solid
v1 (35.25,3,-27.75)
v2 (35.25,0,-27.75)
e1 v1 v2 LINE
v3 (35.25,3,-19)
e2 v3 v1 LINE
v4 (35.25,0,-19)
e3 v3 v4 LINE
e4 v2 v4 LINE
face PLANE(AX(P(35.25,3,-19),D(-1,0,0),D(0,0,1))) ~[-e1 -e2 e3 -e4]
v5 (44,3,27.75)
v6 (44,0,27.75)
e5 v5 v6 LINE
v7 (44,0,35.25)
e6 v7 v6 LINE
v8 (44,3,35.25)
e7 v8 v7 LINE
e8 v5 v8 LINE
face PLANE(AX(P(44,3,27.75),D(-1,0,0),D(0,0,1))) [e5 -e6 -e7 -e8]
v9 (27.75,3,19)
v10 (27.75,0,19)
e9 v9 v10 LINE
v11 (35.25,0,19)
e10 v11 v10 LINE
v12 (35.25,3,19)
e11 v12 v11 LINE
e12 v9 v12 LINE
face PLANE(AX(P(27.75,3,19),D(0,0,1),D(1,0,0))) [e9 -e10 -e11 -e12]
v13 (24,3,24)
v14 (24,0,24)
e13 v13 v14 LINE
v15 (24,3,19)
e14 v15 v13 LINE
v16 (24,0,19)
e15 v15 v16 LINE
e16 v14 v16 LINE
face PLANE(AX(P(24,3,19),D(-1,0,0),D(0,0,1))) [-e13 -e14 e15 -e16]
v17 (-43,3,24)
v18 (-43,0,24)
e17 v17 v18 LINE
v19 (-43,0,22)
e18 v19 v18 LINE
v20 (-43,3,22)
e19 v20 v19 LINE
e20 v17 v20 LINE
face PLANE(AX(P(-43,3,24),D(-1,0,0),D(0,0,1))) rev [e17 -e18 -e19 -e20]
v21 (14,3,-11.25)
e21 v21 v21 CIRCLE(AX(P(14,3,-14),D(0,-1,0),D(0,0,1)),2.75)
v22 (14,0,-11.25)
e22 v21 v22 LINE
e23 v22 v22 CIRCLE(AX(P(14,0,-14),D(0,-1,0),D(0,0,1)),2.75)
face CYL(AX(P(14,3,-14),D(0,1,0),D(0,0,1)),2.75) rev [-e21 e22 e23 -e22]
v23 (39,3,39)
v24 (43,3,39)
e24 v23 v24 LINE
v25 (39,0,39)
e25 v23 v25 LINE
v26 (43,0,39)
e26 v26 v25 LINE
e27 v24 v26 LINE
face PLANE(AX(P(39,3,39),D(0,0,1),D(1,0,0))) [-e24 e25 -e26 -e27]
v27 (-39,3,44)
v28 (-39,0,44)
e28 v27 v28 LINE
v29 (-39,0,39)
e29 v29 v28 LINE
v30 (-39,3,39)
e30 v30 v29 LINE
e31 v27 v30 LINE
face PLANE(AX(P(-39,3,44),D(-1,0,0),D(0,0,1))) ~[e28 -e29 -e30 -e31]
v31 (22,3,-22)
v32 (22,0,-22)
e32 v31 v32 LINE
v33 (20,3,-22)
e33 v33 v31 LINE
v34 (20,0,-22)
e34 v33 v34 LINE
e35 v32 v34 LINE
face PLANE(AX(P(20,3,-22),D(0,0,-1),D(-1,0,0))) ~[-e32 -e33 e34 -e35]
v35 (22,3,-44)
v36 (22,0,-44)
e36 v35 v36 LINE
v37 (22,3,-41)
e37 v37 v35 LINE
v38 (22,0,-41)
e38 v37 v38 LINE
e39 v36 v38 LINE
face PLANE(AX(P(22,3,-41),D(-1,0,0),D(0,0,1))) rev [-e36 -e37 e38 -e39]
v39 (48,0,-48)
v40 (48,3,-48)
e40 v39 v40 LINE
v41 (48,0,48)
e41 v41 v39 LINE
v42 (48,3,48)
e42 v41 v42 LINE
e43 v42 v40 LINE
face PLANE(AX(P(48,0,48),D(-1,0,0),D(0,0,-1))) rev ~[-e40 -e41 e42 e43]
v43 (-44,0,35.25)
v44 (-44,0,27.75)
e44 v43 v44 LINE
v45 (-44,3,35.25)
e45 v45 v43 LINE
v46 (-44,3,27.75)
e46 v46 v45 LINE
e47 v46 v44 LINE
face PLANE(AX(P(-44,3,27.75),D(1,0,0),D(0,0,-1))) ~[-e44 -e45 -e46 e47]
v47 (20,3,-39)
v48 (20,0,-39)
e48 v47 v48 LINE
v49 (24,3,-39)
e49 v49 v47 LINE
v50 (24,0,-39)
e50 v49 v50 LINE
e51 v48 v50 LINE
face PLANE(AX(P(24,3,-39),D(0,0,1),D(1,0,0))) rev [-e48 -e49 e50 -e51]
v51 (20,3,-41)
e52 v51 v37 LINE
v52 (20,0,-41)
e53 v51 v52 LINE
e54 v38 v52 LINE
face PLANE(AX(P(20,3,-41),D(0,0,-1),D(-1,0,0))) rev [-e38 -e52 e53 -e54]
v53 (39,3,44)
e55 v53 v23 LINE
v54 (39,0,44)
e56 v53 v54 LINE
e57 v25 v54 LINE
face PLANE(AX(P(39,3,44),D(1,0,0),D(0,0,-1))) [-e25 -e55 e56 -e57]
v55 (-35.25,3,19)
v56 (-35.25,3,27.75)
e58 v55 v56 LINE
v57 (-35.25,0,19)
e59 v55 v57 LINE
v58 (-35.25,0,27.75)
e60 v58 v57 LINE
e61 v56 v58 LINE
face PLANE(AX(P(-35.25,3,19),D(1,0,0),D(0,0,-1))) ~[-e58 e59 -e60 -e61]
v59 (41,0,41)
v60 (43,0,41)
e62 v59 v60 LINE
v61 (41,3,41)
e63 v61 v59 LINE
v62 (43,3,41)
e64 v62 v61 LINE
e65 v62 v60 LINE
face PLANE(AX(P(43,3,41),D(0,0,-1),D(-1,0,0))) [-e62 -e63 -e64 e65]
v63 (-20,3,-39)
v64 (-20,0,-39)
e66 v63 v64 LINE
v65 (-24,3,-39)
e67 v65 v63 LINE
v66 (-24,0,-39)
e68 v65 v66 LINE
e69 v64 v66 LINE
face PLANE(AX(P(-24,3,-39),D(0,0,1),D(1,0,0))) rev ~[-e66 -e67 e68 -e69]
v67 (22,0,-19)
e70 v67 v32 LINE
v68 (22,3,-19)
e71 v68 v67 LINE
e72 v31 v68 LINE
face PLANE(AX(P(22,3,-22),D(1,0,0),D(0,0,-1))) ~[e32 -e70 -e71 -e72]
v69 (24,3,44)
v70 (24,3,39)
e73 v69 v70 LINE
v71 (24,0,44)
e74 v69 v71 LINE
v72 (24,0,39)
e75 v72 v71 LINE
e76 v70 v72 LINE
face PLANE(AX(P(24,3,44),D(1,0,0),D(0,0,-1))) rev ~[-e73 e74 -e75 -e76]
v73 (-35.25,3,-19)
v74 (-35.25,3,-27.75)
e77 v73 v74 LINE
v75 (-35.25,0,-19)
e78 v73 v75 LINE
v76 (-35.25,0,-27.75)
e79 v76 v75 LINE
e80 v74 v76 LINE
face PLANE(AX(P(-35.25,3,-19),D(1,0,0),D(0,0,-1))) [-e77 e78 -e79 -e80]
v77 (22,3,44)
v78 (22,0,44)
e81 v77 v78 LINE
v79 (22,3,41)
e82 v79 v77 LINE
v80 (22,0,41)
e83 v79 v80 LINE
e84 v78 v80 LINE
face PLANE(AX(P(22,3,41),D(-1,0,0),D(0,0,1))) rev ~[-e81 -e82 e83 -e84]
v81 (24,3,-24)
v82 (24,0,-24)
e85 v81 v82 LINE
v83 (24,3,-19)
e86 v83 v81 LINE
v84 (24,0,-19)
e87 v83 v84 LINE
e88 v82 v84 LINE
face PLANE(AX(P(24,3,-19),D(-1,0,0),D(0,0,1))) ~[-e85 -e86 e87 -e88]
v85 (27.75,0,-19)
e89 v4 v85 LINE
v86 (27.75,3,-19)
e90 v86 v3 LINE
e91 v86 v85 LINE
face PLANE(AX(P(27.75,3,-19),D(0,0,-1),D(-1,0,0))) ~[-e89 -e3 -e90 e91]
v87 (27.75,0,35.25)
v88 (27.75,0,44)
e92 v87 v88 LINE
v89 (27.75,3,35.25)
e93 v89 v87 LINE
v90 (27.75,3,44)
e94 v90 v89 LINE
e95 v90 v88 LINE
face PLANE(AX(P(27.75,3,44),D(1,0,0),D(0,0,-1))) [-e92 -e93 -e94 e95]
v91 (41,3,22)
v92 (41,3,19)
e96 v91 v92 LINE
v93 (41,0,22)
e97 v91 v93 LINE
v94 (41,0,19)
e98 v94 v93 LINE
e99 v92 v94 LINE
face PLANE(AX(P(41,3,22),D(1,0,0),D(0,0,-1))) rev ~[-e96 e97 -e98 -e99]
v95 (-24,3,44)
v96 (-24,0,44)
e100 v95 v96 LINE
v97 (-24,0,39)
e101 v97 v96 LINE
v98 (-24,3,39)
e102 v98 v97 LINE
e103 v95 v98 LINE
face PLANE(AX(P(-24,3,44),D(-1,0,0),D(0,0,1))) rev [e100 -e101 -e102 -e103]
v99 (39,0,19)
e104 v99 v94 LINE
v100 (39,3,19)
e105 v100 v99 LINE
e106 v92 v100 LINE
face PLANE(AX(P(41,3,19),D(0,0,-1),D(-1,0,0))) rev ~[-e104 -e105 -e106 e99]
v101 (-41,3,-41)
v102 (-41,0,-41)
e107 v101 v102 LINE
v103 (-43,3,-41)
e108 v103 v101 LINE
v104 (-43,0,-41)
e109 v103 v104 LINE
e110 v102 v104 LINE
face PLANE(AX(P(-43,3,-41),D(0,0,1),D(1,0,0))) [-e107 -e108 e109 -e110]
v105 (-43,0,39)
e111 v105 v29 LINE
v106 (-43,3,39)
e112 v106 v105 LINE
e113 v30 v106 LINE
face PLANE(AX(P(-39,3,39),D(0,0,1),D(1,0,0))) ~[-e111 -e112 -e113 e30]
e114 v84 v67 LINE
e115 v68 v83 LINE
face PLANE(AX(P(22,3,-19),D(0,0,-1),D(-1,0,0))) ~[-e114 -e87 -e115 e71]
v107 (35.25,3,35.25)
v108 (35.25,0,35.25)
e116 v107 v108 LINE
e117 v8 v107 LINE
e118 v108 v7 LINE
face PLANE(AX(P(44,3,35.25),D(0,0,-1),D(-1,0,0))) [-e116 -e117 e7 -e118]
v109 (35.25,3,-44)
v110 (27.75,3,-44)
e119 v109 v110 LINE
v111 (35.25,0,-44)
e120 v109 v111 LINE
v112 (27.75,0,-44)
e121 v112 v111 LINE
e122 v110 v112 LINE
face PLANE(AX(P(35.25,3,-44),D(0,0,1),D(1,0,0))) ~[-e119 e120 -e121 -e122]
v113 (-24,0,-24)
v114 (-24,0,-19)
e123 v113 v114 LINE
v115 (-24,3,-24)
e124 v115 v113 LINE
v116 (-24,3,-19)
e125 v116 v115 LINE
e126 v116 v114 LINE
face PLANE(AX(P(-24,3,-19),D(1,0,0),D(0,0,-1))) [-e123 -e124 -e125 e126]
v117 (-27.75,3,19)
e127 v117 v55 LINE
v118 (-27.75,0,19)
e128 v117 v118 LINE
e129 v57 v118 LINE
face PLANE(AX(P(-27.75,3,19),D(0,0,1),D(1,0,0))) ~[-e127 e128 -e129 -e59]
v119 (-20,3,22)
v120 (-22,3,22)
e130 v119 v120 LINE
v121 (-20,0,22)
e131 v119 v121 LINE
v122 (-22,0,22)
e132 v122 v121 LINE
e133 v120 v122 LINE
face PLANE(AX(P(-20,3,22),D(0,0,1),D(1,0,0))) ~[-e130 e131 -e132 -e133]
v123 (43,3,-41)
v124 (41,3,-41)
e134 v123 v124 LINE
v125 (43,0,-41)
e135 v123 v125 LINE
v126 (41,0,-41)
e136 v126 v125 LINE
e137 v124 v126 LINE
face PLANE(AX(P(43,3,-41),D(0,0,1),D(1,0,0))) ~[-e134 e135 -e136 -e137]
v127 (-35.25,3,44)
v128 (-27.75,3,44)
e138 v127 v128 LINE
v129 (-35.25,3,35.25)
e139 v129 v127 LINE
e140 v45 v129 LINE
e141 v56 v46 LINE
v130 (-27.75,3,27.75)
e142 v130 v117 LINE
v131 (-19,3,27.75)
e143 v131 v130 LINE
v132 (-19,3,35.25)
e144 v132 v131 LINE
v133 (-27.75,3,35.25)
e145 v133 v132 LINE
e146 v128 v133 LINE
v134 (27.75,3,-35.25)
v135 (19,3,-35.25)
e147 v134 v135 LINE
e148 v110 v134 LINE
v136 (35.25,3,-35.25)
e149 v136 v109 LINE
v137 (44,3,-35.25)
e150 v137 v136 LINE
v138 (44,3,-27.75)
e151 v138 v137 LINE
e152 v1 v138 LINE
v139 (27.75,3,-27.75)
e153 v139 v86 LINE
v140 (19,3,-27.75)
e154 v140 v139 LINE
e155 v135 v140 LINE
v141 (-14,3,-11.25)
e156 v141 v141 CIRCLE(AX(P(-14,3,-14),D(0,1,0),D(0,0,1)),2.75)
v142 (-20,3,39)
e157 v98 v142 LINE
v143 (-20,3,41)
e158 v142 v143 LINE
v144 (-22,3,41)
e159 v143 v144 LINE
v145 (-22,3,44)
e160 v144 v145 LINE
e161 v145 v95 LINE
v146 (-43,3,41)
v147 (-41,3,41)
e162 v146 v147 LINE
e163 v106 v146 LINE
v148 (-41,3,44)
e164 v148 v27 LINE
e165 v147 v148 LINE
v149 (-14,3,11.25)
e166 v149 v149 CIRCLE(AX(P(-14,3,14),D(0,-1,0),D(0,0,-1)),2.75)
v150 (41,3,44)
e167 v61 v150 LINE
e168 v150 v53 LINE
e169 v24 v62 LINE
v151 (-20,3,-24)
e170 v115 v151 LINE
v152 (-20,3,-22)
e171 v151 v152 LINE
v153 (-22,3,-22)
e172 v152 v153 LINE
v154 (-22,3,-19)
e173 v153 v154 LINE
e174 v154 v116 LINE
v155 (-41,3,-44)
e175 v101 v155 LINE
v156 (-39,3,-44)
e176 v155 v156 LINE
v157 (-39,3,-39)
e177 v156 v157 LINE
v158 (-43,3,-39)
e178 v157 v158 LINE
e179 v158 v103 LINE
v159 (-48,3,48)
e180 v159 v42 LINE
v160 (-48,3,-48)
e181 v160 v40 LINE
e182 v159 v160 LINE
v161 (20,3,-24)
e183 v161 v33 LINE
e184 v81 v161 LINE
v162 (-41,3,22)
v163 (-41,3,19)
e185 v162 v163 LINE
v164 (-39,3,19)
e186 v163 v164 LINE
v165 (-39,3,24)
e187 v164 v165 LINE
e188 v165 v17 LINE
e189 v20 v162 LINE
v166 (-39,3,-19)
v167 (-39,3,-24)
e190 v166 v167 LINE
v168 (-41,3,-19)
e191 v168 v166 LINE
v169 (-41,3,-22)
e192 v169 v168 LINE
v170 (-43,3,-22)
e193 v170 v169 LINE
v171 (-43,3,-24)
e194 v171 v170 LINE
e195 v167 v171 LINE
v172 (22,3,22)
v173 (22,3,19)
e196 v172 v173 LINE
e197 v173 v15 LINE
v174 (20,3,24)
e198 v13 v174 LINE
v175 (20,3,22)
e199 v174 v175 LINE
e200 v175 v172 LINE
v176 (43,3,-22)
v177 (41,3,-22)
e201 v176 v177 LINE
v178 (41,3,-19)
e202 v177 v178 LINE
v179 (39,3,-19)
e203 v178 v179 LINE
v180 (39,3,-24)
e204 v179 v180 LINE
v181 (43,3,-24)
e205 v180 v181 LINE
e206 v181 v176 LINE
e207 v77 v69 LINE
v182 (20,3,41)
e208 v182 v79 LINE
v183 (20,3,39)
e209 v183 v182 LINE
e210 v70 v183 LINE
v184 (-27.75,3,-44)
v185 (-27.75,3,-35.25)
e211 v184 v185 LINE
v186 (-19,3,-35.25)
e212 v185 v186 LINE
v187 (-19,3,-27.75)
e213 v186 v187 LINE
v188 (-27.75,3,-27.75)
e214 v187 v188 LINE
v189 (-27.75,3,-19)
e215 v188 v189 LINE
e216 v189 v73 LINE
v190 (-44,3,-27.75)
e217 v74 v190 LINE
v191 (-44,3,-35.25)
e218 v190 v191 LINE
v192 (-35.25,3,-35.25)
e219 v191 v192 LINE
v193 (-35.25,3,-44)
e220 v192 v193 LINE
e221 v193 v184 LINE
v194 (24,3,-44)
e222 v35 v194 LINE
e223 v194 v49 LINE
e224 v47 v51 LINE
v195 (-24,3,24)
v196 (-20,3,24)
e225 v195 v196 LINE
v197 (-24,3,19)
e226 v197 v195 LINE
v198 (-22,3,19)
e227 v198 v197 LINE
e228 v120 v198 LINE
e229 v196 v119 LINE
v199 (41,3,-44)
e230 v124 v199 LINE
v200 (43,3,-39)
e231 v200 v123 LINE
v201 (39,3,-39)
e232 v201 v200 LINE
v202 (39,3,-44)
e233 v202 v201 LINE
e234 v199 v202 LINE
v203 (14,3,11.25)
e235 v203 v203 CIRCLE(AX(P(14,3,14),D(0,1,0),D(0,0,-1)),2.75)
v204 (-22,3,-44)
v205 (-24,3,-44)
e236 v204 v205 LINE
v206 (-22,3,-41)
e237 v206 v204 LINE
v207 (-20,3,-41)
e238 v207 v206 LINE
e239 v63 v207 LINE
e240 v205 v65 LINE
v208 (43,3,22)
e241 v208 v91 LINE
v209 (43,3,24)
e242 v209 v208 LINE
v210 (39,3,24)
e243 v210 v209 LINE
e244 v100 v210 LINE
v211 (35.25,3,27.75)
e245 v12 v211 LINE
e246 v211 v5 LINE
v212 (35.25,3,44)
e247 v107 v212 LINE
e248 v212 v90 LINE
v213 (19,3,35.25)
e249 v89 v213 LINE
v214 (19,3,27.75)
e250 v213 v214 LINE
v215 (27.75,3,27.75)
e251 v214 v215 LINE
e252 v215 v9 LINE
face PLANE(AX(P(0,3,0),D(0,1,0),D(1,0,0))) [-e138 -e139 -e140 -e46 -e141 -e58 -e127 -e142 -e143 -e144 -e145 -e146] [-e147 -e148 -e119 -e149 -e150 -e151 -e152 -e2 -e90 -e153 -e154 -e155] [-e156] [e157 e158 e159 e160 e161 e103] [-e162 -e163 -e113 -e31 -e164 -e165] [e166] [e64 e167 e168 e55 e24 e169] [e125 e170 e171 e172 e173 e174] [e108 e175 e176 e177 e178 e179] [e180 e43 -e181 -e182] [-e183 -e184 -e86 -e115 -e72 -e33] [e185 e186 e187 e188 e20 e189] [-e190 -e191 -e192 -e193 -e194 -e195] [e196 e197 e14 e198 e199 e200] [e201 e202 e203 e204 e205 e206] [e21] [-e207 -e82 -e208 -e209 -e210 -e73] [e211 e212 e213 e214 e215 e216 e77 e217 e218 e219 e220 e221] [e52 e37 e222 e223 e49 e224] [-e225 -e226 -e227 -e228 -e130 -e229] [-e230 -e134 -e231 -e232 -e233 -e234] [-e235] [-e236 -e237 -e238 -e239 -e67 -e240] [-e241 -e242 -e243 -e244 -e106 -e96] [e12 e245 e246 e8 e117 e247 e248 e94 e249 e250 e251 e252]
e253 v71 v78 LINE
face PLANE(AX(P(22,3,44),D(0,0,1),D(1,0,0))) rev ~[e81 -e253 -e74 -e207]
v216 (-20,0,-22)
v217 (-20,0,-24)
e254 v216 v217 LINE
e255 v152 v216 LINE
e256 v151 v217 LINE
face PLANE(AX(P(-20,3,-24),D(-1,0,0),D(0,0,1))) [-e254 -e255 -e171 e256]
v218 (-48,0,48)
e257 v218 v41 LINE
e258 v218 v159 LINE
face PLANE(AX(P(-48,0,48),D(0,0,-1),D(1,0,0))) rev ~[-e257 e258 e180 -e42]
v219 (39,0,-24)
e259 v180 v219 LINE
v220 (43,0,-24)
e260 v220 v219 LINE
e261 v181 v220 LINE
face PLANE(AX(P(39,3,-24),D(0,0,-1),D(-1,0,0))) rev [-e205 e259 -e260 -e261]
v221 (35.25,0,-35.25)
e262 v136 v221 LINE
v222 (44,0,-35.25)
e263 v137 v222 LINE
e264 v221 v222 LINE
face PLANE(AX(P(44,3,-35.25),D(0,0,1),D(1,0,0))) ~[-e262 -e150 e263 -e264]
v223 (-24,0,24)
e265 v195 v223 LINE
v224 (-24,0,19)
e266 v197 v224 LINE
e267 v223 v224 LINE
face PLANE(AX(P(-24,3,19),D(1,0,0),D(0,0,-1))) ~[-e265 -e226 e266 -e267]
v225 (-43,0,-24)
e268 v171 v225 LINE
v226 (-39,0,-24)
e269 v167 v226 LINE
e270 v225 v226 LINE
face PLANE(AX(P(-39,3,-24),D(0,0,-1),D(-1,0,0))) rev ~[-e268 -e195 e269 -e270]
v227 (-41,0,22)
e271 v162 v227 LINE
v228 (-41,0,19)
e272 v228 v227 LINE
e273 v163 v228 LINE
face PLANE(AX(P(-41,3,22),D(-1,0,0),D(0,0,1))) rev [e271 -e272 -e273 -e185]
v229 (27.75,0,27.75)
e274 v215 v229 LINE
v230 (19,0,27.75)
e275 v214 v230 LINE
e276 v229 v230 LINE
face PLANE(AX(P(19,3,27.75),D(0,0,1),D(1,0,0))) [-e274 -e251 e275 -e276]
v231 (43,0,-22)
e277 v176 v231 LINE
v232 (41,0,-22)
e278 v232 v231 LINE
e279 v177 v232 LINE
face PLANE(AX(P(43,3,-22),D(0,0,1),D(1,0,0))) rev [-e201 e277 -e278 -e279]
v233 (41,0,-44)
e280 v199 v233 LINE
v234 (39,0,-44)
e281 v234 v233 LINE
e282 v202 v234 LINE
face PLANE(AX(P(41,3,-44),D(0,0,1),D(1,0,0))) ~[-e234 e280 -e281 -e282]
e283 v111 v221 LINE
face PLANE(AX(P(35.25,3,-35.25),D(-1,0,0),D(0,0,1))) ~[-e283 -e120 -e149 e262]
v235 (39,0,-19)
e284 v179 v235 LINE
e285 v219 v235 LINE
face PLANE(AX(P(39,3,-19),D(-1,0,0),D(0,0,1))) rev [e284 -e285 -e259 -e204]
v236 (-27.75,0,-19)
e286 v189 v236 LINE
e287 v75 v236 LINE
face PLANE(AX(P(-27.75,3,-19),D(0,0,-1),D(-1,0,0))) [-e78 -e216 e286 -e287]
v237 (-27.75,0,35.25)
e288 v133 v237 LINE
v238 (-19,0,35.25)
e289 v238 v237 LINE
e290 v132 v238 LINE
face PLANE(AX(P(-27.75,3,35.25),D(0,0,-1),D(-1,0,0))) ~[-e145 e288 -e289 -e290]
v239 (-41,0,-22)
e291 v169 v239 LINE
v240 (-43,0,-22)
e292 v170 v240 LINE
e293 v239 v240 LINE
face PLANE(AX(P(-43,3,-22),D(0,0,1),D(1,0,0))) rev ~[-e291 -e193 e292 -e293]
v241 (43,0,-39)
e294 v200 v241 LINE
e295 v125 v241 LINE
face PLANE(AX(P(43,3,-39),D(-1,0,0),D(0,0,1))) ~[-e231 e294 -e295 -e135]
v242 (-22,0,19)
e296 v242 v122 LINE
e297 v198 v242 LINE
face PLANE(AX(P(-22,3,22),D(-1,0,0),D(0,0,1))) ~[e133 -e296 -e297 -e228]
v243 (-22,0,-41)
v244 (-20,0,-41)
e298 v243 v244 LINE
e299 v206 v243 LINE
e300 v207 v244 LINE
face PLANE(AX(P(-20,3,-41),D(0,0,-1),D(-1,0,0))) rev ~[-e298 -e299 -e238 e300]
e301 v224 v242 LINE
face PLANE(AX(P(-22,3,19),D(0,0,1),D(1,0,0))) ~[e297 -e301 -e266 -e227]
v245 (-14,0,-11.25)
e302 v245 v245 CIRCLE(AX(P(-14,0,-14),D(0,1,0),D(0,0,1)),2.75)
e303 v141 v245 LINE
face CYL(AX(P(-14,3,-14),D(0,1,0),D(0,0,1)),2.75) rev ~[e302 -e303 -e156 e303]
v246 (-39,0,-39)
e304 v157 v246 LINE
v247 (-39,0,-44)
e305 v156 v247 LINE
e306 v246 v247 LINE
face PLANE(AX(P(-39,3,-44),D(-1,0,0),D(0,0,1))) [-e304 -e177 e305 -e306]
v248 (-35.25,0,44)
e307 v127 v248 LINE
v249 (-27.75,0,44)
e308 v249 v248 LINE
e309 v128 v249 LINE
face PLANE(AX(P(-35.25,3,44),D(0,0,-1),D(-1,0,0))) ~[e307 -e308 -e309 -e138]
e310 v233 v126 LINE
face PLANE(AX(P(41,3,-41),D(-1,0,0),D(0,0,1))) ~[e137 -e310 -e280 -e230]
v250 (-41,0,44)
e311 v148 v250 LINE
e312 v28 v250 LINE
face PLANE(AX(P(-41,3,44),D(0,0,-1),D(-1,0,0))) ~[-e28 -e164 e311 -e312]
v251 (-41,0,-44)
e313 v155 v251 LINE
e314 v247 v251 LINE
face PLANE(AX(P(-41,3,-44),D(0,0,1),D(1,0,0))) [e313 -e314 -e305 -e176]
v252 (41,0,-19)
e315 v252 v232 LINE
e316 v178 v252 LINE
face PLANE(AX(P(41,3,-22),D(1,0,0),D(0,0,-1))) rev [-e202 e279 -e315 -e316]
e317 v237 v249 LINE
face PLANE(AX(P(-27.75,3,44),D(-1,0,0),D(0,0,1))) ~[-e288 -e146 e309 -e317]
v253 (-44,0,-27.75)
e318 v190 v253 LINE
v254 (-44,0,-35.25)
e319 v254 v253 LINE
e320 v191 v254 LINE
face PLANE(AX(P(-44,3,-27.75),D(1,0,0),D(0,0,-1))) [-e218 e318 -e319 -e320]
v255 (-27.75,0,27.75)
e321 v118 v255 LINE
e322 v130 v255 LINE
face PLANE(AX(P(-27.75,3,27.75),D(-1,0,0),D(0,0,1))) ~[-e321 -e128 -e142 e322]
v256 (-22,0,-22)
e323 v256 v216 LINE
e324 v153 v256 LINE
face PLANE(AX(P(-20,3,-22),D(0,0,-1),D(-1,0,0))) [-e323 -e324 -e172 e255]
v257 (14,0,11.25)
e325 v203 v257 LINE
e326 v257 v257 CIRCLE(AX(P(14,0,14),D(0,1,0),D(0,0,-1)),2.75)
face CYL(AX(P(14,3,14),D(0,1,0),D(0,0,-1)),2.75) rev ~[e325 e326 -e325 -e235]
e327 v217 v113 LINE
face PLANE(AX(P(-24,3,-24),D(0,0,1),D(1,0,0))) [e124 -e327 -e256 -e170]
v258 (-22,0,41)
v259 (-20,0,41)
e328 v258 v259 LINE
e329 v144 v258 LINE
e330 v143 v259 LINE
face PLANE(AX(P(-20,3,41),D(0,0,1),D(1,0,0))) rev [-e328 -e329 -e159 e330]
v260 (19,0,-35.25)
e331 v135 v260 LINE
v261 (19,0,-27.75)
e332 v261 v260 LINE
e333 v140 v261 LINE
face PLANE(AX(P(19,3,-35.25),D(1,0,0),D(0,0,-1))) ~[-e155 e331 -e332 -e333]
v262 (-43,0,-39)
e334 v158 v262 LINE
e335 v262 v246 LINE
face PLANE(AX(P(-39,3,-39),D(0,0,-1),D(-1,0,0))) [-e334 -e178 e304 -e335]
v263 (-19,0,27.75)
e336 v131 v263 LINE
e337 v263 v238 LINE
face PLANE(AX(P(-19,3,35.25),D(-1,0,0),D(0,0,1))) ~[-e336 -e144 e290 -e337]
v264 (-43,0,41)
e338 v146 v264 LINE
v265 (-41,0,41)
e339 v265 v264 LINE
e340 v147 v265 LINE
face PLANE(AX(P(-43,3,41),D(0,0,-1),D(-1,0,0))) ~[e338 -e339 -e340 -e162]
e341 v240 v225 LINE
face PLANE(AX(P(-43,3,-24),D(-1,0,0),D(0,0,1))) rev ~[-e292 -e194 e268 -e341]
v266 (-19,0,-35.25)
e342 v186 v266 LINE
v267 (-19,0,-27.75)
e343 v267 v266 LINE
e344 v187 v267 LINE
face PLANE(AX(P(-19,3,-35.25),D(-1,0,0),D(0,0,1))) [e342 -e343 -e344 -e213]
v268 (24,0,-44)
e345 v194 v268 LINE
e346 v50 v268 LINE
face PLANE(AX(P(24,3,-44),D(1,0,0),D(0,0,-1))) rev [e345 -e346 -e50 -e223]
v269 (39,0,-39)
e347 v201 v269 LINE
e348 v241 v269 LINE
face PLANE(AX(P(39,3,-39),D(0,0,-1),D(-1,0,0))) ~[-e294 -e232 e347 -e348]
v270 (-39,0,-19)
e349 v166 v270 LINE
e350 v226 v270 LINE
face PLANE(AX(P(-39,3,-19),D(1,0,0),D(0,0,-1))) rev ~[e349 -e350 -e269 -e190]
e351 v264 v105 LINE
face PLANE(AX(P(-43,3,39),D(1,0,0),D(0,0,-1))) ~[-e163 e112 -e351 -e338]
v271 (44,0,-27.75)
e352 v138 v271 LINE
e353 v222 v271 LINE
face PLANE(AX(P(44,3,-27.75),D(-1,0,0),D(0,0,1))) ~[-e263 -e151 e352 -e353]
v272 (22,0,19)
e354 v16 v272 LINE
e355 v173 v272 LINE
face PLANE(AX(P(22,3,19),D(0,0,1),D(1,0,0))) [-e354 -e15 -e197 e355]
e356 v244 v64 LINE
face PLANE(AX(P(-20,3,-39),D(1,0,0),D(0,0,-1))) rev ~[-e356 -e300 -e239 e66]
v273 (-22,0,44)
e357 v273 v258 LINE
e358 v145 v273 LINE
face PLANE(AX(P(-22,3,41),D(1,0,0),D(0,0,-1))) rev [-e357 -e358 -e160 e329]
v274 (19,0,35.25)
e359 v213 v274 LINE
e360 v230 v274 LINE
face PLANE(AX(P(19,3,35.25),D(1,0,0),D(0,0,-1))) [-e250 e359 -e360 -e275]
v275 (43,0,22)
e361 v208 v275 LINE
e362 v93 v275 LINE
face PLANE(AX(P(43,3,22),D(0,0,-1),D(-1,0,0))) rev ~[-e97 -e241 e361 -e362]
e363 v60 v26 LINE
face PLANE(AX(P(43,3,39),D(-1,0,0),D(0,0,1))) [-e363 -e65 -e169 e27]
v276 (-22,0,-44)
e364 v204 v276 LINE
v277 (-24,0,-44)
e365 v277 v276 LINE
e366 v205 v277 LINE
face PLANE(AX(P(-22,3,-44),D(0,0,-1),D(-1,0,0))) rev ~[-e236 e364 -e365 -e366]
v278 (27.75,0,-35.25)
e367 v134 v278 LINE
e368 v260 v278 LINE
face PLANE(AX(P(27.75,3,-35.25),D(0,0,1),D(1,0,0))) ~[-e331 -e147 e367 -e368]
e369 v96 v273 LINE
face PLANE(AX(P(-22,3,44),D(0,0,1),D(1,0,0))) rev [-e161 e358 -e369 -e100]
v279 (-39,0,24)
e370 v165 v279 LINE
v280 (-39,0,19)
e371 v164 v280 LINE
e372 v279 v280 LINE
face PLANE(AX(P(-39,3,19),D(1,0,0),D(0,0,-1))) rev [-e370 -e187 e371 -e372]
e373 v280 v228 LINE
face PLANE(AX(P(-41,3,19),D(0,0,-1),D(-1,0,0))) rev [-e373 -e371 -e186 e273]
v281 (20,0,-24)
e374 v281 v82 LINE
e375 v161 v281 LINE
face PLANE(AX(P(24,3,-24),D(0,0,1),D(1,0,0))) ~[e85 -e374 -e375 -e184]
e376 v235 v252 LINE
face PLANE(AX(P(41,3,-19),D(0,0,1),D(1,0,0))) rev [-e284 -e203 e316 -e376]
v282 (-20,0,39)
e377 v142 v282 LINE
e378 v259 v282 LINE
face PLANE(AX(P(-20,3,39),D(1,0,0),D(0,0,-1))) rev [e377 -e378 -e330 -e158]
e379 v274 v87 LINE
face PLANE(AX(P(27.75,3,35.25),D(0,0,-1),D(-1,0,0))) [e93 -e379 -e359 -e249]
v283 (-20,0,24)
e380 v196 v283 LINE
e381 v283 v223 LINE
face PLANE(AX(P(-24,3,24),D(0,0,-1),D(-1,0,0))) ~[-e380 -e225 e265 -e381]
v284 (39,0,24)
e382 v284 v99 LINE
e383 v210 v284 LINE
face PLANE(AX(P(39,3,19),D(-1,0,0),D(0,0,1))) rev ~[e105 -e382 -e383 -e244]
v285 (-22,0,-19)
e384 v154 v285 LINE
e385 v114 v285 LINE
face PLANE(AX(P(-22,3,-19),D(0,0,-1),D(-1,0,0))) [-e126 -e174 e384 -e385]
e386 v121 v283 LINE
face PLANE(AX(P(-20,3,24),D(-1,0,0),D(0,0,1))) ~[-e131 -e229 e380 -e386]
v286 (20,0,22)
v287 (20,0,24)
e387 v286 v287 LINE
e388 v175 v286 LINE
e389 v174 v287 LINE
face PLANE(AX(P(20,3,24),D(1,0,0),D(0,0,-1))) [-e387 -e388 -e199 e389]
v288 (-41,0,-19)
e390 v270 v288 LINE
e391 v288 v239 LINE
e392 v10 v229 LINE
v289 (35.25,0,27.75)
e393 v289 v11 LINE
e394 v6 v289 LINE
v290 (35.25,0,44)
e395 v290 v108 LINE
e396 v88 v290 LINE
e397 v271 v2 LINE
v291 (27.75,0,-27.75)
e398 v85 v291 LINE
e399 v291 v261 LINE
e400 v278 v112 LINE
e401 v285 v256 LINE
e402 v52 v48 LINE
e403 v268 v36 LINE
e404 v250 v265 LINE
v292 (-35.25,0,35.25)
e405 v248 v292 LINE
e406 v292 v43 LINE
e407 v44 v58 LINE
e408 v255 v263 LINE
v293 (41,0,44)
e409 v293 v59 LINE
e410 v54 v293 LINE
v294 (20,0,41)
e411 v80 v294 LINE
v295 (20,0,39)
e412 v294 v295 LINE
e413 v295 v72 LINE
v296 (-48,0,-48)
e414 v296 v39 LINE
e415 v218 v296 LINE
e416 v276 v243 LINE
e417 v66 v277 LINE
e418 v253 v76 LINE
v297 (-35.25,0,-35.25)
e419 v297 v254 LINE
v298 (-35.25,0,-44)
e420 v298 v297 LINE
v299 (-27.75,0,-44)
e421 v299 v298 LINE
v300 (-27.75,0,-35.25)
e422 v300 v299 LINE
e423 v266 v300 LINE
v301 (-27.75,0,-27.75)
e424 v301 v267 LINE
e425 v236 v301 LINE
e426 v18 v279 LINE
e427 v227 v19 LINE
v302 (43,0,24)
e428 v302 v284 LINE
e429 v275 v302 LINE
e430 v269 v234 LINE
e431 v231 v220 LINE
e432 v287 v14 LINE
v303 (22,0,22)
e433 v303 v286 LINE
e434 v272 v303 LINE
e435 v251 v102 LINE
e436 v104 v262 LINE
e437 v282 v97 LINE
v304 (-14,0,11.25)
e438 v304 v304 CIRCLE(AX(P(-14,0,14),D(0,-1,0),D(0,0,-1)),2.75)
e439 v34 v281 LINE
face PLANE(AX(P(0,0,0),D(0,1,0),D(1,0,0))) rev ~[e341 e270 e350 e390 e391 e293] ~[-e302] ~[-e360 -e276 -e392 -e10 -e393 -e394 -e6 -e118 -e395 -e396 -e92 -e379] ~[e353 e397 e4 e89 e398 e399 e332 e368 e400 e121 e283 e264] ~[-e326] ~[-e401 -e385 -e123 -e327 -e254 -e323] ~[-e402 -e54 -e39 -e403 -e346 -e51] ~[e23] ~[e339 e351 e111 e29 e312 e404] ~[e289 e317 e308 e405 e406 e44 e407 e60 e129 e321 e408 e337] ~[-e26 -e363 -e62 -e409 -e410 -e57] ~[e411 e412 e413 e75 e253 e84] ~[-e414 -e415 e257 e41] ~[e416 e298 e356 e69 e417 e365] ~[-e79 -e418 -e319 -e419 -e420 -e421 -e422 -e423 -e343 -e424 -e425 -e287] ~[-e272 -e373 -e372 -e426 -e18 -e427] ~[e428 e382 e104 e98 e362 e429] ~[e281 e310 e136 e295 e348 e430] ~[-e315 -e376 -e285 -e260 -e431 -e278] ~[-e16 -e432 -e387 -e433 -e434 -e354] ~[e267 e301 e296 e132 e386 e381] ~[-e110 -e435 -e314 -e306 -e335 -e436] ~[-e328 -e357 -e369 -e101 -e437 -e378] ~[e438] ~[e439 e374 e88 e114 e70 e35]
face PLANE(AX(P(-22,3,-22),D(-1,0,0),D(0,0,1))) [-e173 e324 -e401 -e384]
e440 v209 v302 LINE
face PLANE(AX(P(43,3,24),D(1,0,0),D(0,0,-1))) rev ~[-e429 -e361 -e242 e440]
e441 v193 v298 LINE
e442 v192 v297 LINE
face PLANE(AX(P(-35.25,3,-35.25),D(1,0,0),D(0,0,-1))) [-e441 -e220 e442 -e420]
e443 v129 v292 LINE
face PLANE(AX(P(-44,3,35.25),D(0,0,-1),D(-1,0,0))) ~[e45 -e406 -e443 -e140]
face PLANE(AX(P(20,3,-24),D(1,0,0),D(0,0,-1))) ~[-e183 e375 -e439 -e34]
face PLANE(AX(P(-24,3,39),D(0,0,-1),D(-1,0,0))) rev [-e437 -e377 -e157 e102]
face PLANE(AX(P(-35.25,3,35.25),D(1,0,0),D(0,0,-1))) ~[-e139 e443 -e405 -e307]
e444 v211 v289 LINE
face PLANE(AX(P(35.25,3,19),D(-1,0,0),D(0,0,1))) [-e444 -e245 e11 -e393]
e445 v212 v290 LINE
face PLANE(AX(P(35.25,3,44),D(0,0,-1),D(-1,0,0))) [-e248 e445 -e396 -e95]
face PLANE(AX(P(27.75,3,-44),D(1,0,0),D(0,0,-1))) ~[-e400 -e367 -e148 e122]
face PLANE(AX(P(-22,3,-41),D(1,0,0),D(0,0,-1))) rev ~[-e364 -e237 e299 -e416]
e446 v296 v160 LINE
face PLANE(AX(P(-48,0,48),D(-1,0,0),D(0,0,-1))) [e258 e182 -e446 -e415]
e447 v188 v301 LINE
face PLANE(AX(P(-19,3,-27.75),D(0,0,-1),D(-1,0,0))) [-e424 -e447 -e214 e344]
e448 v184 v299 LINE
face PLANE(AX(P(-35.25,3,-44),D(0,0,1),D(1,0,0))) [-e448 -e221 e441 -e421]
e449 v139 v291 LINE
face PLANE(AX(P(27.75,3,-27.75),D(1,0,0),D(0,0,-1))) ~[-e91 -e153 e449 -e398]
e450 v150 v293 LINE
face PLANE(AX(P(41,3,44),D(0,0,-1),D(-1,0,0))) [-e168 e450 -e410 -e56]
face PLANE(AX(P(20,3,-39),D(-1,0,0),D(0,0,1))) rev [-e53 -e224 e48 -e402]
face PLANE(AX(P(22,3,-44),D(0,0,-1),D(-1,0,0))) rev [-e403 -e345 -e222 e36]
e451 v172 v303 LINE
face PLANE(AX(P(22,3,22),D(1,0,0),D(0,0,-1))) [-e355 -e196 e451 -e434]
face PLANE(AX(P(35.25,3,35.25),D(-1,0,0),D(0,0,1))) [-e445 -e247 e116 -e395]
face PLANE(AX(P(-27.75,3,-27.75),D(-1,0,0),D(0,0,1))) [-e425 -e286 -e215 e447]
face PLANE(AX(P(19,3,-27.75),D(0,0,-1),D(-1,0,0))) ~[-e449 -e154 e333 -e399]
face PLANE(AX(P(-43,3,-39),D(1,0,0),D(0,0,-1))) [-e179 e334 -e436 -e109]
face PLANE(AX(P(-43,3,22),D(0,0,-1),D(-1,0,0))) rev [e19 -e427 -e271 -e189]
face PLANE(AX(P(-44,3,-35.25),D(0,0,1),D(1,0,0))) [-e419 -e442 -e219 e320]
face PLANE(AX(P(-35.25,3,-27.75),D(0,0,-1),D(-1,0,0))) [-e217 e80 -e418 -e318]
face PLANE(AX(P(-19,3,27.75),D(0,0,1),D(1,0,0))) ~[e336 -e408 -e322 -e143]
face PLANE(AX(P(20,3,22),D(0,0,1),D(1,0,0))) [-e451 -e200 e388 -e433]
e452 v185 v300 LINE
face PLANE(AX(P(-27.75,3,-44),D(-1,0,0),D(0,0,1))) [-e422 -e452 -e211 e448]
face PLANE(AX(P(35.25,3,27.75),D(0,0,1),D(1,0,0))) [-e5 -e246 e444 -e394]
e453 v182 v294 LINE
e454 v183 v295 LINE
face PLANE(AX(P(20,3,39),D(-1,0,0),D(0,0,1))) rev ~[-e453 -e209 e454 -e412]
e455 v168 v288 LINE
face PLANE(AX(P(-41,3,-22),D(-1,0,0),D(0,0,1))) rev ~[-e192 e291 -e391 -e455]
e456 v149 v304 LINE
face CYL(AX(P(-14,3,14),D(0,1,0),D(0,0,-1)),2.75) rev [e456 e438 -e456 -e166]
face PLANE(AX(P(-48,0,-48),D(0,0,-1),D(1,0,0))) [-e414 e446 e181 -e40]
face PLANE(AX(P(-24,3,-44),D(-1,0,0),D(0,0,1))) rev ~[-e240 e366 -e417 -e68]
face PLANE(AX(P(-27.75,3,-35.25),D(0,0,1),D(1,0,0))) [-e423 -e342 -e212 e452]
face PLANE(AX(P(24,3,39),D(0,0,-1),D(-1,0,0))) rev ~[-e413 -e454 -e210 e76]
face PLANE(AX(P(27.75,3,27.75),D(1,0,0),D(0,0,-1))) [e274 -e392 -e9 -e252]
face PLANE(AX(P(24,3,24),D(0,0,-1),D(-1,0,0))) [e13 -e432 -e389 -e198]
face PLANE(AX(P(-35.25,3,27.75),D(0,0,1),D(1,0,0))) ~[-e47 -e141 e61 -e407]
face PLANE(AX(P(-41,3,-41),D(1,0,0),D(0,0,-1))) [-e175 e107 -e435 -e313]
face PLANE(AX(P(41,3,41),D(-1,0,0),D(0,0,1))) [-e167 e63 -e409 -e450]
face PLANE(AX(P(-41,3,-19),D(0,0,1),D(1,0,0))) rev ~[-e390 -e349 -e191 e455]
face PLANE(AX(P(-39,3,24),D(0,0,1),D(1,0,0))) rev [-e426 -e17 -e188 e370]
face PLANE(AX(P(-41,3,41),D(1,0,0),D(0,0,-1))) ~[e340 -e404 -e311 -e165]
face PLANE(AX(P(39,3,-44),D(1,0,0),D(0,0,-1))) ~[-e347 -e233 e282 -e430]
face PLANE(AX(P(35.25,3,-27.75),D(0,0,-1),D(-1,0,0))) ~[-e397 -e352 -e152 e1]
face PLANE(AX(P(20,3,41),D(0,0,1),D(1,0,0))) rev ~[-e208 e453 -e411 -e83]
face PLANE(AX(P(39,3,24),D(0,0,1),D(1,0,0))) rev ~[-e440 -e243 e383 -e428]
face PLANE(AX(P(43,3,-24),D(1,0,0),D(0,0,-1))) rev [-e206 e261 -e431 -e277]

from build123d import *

# Parameters (mm, degrees)
SKETCH_1_W               = 96
SKETCH_1_H               = 96
EXTRUDE_1_DEPTH          = 3
CUT_EXTRUDE_1_REACH      = 69.949
SKETCH_3_R               = 2.75
MIRROR_2_COPY_1_REACH    = 69.949
MIRROR_2_COPY_1_SKETCH_R = 2.75


with BuildPart() as part:
    # 草图1 → 凸台-拉伸1 (new body)
    with BuildSketch(Plane(origin=(0, 0, 0), x_dir=(1, 0, 0), z_dir=(0, 1, 0))):
        Rectangle(SKETCH_1_W, SKETCH_1_H)
    extrude(amount=EXTRUDE_1_DEPTH)

    # 草图3 → 切除-拉伸1 (cut, up to next)
    with BuildSketch(Plane(origin=(0, 3, 0), x_dir=(1, 0, 0), z_dir=(0, 1, 0)), mode=Mode.PRIVATE) as cut_extrude_1_sk1:
        with Locations(Location((-14, 14, 0), (0, 0, 270))):
            Circle(SKETCH_3_R)
    cut_extrude_1_tool1 = extrude(cut_extrude_1_sk1.sketch, amount=-CUT_EXTRUDE_1_REACH, mode=Mode.PRIVATE) & part.part
    # 草图3 → 切除-拉伸1 (cut, up to next)
    with BuildSketch(Plane(origin=(0, 3, 0), x_dir=(1, 0, 0), z_dir=(0, 1, 0)), mode=Mode.PRIVATE) as cut_extrude_1_sk2:
        Polygon((-27.75, 35.25), (-19, 35.25), (-19, 27.75), (-27.75, 27.75), (-27.75, 19), (-35.25, 19), (-35.25, 27.75), (-44, 27.75), (-44, 35.25), (-35.25, 35.25), (-35.25, 44), (-27.75, 44), align=None)
    cut_extrude_1_tool2 = extrude(cut_extrude_1_sk2.sketch, amount=-CUT_EXTRUDE_1_REACH, mode=Mode.PRIVATE) & part.part
    # 草图3 → 切除-拉伸1 (cut, up to next)
    with BuildSketch(Plane(origin=(0, 3, 0), x_dir=(1, 0, 0), z_dir=(0, 1, 0)), mode=Mode.PRIVATE) as cut_extrude_1_sk3:
        Polygon((-41, 44), (-39, 44), (-39, 39), (-43, 39), (-43, 41), (-41, 41), align=None)
    cut_extrude_1_tool3 = extrude(cut_extrude_1_sk3.sketch, amount=-CUT_EXTRUDE_1_REACH, mode=Mode.PRIVATE) & part.part
    # 草图3 → 切除-拉伸1 (cut, up to next)
    with BuildSketch(Plane(origin=(0, 3, 0), x_dir=(1, 0, 0), z_dir=(0, 1, 0)), mode=Mode.PRIVATE) as cut_extrude_1_sk4:
        Polygon((-22, 41), (-22, 44), (-24, 44), (-24, 39), (-20, 39), (-20, 41), align=None)
    cut_extrude_1_tool4 = extrude(cut_extrude_1_sk4.sketch, amount=-CUT_EXTRUDE_1_REACH, mode=Mode.PRIVATE) & part.part
    # 草图3 → 切除-拉伸1 (cut, up to next)
    with BuildSketch(Plane(origin=(0, 3, 0), x_dir=(1, 0, 0), z_dir=(0, 1, 0)), mode=Mode.PRIVATE) as cut_extrude_1_sk5:
        Polygon((-22, 19), (-24, 19), (-24, 24), (-20, 24), (-20, 22), (-22, 22), align=None)
    cut_extrude_1_tool5 = extrude(cut_extrude_1_sk5.sketch, amount=-CUT_EXTRUDE_1_REACH, mode=Mode.PRIVATE) & part.part
    # 草图3 → 切除-拉伸1 (cut, up to next)
    with BuildSketch(Plane(origin=(0, 3, 0), x_dir=(1, 0, 0), z_dir=(0, 1, 0)), mode=Mode.PRIVATE) as cut_extrude_1_sk6:
        Polygon((-41, 22), (-41, 19), (-39, 19), (-39, 24), (-43, 24), (-43, 22), align=None)
    cut_extrude_1_tool6 = extrude(cut_extrude_1_sk6.sketch, amount=-CUT_EXTRUDE_1_REACH, mode=Mode.PRIVATE) & part.part
    cut_extrude_1_1 = cut_extrude_1_tool1.solids().sort_by_distance((-14, 3, -14))[0]
    add(cut_extrude_1_1, mode=Mode.SUBTRACT)
    cut_extrude_1_2 = cut_extrude_1_tool2.solids().sort_by_distance((-31.5, 3, -31.5))[0]
    add(cut_extrude_1_2, mode=Mode.SUBTRACT)
    cut_extrude_1_3 = cut_extrude_1_tool3.solids().sort_by_distance((-40.571429, 3, -41.071429))[0]
    add(cut_extrude_1_3, mode=Mode.SUBTRACT)
    cut_extrude_1_4 = cut_extrude_1_tool4.solids().sort_by_distance((-22.428571, 3, -41.071429))[0]
    add(cut_extrude_1_4, mode=Mode.SUBTRACT)
    cut_extrude_1_5 = cut_extrude_1_tool5.solids().sort_by_distance((-22.428571, 3, -21.928571))[0]
    add(cut_extrude_1_5, mode=Mode.SUBTRACT)
    cut_extrude_1_6 = cut_extrude_1_tool6.solids().sort_by_distance((-40.571429, 3, -21.928571))[0]
    add(cut_extrude_1_6, mode=Mode.SUBTRACT)
    cut_extrude_1 = cut_extrude_1_1 + cut_extrude_1_2 + cut_extrude_1_3 + cut_extrude_1_4 + cut_extrude_1_5 + cut_extrude_1_6  # 切除-拉伸1 as one shape, for the pattern or mirror that repeats it

    # 镜向1: 切除-拉伸1 across plane
    add(cut_extrude_1.mirror(Plane(origin=(0, 0, 0), x_dir=(0, 0, 1), z_dir=(1, 0, 0))), mode=Mode.SUBTRACT)

    # 镜向2: 切除-拉伸1 across plane
    add(cut_extrude_1.mirror(Plane.XY), mode=Mode.SUBTRACT)

    # 镜向2 copy 1 sketch → 镜向2 copy 1 (cut, up to next)
    with BuildSketch(Plane(origin=(0, 3, 0), x_dir=(-1, 0, 0), z_dir=(0, 1, 0)), mode=Mode.PRIVATE) as mirror_2_copy_1_sk1:
        with Locations(Location((-14, 14, 0), (0, 0, 270))):
            Circle(MIRROR_2_COPY_1_SKETCH_R)
    mirror_2_copy_1_tool1 = extrude(mirror_2_copy_1_sk1.sketch, amount=-MIRROR_2_COPY_1_REACH, mode=Mode.PRIVATE) & part.part
    # 镜向2 copy 1 sketch → 镜向2 copy 1 (cut, up to next)
    with BuildSketch(Plane(origin=(0, 3, 0), x_dir=(-1, 0, 0), z_dir=(0, 1, 0)), mode=Mode.PRIVATE) as mirror_2_copy_1_sk2:
        Polygon((-27.75, 35.25), (-19, 35.25), (-19, 27.75), (-27.75, 27.75), (-27.75, 19), (-35.25, 19), (-35.25, 27.75), (-44, 27.75), (-44, 35.25), (-35.25, 35.25), (-35.25, 44), (-27.75, 44), align=None)
    mirror_2_copy_1_tool2 = extrude(mirror_2_copy_1_sk2.sketch, amount=-MIRROR_2_COPY_1_REACH, mode=Mode.PRIVATE) & part.part
    # 镜向2 copy 1 sketch → 镜向2 copy 1 (cut, up to next)
    with BuildSketch(Plane(origin=(0, 3, 0), x_dir=(-1, 0, 0), z_dir=(0, 1, 0)), mode=Mode.PRIVATE) as mirror_2_copy_1_sk3:
        Polygon((-41, 44), (-39, 44), (-39, 39), (-43, 39), (-43, 41), (-41, 41), align=None)
    mirror_2_copy_1_tool3 = extrude(mirror_2_copy_1_sk3.sketch, amount=-MIRROR_2_COPY_1_REACH, mode=Mode.PRIVATE) & part.part
    # 镜向2 copy 1 sketch → 镜向2 copy 1 (cut, up to next)
    with BuildSketch(Plane(origin=(0, 3, 0), x_dir=(-1, 0, 0), z_dir=(0, 1, 0)), mode=Mode.PRIVATE) as mirror_2_copy_1_sk4:
        Polygon((-22, 41), (-22, 44), (-24, 44), (-24, 39), (-20, 39), (-20, 41), align=None)
    mirror_2_copy_1_tool4 = extrude(mirror_2_copy_1_sk4.sketch, amount=-MIRROR_2_COPY_1_REACH, mode=Mode.PRIVATE) & part.part
    # 镜向2 copy 1 sketch → 镜向2 copy 1 (cut, up to next)
    with BuildSketch(Plane(origin=(0, 3, 0), x_dir=(-1, 0, 0), z_dir=(0, 1, 0)), mode=Mode.PRIVATE) as mirror_2_copy_1_sk5:
        Polygon((-22, 19), (-24, 19), (-24, 24), (-20, 24), (-20, 22), (-22, 22), align=None)
    mirror_2_copy_1_tool5 = extrude(mirror_2_copy_1_sk5.sketch, amount=-MIRROR_2_COPY_1_REACH, mode=Mode.PRIVATE) & part.part
    # 镜向2 copy 1 sketch → 镜向2 copy 1 (cut, up to next)
    with BuildSketch(Plane(origin=(0, 3, 0), x_dir=(-1, 0, 0), z_dir=(0, 1, 0)), mode=Mode.PRIVATE) as mirror_2_copy_1_sk6:
        Polygon((-41, 22), (-41, 19), (-39, 19), (-39, 24), (-43, 24), (-43, 22), align=None)
    mirror_2_copy_1_tool6 = extrude(mirror_2_copy_1_sk6.sketch, amount=-MIRROR_2_COPY_1_REACH, mode=Mode.PRIVATE) & part.part
    add(mirror_2_copy_1_tool1.solids().sort_by_distance((14, 3, 14))[0], mode=Mode.SUBTRACT)
    add(mirror_2_copy_1_tool2.solids().sort_by_distance((31.5, 3, 31.5))[0], mode=Mode.SUBTRACT)
    add(mirror_2_copy_1_tool3.solids().sort_by_distance((40.571429, 3, 41.071429))[0], mode=Mode.SUBTRACT)
    add(mirror_2_copy_1_tool4.solids().sort_by_distance((22.428571, 3, 41.071429))[0], mode=Mode.SUBTRACT)
    add(mirror_2_copy_1_tool5.solids().sort_by_distance((22.428571, 3, 21.928571))[0], mode=Mode.SUBTRACT)
    add(mirror_2_copy_1_tool6.solids().sort_by_distance((40.571429, 3, 21.928571))[0], mode=Mode.SUBTRACT)


solid = part.part
